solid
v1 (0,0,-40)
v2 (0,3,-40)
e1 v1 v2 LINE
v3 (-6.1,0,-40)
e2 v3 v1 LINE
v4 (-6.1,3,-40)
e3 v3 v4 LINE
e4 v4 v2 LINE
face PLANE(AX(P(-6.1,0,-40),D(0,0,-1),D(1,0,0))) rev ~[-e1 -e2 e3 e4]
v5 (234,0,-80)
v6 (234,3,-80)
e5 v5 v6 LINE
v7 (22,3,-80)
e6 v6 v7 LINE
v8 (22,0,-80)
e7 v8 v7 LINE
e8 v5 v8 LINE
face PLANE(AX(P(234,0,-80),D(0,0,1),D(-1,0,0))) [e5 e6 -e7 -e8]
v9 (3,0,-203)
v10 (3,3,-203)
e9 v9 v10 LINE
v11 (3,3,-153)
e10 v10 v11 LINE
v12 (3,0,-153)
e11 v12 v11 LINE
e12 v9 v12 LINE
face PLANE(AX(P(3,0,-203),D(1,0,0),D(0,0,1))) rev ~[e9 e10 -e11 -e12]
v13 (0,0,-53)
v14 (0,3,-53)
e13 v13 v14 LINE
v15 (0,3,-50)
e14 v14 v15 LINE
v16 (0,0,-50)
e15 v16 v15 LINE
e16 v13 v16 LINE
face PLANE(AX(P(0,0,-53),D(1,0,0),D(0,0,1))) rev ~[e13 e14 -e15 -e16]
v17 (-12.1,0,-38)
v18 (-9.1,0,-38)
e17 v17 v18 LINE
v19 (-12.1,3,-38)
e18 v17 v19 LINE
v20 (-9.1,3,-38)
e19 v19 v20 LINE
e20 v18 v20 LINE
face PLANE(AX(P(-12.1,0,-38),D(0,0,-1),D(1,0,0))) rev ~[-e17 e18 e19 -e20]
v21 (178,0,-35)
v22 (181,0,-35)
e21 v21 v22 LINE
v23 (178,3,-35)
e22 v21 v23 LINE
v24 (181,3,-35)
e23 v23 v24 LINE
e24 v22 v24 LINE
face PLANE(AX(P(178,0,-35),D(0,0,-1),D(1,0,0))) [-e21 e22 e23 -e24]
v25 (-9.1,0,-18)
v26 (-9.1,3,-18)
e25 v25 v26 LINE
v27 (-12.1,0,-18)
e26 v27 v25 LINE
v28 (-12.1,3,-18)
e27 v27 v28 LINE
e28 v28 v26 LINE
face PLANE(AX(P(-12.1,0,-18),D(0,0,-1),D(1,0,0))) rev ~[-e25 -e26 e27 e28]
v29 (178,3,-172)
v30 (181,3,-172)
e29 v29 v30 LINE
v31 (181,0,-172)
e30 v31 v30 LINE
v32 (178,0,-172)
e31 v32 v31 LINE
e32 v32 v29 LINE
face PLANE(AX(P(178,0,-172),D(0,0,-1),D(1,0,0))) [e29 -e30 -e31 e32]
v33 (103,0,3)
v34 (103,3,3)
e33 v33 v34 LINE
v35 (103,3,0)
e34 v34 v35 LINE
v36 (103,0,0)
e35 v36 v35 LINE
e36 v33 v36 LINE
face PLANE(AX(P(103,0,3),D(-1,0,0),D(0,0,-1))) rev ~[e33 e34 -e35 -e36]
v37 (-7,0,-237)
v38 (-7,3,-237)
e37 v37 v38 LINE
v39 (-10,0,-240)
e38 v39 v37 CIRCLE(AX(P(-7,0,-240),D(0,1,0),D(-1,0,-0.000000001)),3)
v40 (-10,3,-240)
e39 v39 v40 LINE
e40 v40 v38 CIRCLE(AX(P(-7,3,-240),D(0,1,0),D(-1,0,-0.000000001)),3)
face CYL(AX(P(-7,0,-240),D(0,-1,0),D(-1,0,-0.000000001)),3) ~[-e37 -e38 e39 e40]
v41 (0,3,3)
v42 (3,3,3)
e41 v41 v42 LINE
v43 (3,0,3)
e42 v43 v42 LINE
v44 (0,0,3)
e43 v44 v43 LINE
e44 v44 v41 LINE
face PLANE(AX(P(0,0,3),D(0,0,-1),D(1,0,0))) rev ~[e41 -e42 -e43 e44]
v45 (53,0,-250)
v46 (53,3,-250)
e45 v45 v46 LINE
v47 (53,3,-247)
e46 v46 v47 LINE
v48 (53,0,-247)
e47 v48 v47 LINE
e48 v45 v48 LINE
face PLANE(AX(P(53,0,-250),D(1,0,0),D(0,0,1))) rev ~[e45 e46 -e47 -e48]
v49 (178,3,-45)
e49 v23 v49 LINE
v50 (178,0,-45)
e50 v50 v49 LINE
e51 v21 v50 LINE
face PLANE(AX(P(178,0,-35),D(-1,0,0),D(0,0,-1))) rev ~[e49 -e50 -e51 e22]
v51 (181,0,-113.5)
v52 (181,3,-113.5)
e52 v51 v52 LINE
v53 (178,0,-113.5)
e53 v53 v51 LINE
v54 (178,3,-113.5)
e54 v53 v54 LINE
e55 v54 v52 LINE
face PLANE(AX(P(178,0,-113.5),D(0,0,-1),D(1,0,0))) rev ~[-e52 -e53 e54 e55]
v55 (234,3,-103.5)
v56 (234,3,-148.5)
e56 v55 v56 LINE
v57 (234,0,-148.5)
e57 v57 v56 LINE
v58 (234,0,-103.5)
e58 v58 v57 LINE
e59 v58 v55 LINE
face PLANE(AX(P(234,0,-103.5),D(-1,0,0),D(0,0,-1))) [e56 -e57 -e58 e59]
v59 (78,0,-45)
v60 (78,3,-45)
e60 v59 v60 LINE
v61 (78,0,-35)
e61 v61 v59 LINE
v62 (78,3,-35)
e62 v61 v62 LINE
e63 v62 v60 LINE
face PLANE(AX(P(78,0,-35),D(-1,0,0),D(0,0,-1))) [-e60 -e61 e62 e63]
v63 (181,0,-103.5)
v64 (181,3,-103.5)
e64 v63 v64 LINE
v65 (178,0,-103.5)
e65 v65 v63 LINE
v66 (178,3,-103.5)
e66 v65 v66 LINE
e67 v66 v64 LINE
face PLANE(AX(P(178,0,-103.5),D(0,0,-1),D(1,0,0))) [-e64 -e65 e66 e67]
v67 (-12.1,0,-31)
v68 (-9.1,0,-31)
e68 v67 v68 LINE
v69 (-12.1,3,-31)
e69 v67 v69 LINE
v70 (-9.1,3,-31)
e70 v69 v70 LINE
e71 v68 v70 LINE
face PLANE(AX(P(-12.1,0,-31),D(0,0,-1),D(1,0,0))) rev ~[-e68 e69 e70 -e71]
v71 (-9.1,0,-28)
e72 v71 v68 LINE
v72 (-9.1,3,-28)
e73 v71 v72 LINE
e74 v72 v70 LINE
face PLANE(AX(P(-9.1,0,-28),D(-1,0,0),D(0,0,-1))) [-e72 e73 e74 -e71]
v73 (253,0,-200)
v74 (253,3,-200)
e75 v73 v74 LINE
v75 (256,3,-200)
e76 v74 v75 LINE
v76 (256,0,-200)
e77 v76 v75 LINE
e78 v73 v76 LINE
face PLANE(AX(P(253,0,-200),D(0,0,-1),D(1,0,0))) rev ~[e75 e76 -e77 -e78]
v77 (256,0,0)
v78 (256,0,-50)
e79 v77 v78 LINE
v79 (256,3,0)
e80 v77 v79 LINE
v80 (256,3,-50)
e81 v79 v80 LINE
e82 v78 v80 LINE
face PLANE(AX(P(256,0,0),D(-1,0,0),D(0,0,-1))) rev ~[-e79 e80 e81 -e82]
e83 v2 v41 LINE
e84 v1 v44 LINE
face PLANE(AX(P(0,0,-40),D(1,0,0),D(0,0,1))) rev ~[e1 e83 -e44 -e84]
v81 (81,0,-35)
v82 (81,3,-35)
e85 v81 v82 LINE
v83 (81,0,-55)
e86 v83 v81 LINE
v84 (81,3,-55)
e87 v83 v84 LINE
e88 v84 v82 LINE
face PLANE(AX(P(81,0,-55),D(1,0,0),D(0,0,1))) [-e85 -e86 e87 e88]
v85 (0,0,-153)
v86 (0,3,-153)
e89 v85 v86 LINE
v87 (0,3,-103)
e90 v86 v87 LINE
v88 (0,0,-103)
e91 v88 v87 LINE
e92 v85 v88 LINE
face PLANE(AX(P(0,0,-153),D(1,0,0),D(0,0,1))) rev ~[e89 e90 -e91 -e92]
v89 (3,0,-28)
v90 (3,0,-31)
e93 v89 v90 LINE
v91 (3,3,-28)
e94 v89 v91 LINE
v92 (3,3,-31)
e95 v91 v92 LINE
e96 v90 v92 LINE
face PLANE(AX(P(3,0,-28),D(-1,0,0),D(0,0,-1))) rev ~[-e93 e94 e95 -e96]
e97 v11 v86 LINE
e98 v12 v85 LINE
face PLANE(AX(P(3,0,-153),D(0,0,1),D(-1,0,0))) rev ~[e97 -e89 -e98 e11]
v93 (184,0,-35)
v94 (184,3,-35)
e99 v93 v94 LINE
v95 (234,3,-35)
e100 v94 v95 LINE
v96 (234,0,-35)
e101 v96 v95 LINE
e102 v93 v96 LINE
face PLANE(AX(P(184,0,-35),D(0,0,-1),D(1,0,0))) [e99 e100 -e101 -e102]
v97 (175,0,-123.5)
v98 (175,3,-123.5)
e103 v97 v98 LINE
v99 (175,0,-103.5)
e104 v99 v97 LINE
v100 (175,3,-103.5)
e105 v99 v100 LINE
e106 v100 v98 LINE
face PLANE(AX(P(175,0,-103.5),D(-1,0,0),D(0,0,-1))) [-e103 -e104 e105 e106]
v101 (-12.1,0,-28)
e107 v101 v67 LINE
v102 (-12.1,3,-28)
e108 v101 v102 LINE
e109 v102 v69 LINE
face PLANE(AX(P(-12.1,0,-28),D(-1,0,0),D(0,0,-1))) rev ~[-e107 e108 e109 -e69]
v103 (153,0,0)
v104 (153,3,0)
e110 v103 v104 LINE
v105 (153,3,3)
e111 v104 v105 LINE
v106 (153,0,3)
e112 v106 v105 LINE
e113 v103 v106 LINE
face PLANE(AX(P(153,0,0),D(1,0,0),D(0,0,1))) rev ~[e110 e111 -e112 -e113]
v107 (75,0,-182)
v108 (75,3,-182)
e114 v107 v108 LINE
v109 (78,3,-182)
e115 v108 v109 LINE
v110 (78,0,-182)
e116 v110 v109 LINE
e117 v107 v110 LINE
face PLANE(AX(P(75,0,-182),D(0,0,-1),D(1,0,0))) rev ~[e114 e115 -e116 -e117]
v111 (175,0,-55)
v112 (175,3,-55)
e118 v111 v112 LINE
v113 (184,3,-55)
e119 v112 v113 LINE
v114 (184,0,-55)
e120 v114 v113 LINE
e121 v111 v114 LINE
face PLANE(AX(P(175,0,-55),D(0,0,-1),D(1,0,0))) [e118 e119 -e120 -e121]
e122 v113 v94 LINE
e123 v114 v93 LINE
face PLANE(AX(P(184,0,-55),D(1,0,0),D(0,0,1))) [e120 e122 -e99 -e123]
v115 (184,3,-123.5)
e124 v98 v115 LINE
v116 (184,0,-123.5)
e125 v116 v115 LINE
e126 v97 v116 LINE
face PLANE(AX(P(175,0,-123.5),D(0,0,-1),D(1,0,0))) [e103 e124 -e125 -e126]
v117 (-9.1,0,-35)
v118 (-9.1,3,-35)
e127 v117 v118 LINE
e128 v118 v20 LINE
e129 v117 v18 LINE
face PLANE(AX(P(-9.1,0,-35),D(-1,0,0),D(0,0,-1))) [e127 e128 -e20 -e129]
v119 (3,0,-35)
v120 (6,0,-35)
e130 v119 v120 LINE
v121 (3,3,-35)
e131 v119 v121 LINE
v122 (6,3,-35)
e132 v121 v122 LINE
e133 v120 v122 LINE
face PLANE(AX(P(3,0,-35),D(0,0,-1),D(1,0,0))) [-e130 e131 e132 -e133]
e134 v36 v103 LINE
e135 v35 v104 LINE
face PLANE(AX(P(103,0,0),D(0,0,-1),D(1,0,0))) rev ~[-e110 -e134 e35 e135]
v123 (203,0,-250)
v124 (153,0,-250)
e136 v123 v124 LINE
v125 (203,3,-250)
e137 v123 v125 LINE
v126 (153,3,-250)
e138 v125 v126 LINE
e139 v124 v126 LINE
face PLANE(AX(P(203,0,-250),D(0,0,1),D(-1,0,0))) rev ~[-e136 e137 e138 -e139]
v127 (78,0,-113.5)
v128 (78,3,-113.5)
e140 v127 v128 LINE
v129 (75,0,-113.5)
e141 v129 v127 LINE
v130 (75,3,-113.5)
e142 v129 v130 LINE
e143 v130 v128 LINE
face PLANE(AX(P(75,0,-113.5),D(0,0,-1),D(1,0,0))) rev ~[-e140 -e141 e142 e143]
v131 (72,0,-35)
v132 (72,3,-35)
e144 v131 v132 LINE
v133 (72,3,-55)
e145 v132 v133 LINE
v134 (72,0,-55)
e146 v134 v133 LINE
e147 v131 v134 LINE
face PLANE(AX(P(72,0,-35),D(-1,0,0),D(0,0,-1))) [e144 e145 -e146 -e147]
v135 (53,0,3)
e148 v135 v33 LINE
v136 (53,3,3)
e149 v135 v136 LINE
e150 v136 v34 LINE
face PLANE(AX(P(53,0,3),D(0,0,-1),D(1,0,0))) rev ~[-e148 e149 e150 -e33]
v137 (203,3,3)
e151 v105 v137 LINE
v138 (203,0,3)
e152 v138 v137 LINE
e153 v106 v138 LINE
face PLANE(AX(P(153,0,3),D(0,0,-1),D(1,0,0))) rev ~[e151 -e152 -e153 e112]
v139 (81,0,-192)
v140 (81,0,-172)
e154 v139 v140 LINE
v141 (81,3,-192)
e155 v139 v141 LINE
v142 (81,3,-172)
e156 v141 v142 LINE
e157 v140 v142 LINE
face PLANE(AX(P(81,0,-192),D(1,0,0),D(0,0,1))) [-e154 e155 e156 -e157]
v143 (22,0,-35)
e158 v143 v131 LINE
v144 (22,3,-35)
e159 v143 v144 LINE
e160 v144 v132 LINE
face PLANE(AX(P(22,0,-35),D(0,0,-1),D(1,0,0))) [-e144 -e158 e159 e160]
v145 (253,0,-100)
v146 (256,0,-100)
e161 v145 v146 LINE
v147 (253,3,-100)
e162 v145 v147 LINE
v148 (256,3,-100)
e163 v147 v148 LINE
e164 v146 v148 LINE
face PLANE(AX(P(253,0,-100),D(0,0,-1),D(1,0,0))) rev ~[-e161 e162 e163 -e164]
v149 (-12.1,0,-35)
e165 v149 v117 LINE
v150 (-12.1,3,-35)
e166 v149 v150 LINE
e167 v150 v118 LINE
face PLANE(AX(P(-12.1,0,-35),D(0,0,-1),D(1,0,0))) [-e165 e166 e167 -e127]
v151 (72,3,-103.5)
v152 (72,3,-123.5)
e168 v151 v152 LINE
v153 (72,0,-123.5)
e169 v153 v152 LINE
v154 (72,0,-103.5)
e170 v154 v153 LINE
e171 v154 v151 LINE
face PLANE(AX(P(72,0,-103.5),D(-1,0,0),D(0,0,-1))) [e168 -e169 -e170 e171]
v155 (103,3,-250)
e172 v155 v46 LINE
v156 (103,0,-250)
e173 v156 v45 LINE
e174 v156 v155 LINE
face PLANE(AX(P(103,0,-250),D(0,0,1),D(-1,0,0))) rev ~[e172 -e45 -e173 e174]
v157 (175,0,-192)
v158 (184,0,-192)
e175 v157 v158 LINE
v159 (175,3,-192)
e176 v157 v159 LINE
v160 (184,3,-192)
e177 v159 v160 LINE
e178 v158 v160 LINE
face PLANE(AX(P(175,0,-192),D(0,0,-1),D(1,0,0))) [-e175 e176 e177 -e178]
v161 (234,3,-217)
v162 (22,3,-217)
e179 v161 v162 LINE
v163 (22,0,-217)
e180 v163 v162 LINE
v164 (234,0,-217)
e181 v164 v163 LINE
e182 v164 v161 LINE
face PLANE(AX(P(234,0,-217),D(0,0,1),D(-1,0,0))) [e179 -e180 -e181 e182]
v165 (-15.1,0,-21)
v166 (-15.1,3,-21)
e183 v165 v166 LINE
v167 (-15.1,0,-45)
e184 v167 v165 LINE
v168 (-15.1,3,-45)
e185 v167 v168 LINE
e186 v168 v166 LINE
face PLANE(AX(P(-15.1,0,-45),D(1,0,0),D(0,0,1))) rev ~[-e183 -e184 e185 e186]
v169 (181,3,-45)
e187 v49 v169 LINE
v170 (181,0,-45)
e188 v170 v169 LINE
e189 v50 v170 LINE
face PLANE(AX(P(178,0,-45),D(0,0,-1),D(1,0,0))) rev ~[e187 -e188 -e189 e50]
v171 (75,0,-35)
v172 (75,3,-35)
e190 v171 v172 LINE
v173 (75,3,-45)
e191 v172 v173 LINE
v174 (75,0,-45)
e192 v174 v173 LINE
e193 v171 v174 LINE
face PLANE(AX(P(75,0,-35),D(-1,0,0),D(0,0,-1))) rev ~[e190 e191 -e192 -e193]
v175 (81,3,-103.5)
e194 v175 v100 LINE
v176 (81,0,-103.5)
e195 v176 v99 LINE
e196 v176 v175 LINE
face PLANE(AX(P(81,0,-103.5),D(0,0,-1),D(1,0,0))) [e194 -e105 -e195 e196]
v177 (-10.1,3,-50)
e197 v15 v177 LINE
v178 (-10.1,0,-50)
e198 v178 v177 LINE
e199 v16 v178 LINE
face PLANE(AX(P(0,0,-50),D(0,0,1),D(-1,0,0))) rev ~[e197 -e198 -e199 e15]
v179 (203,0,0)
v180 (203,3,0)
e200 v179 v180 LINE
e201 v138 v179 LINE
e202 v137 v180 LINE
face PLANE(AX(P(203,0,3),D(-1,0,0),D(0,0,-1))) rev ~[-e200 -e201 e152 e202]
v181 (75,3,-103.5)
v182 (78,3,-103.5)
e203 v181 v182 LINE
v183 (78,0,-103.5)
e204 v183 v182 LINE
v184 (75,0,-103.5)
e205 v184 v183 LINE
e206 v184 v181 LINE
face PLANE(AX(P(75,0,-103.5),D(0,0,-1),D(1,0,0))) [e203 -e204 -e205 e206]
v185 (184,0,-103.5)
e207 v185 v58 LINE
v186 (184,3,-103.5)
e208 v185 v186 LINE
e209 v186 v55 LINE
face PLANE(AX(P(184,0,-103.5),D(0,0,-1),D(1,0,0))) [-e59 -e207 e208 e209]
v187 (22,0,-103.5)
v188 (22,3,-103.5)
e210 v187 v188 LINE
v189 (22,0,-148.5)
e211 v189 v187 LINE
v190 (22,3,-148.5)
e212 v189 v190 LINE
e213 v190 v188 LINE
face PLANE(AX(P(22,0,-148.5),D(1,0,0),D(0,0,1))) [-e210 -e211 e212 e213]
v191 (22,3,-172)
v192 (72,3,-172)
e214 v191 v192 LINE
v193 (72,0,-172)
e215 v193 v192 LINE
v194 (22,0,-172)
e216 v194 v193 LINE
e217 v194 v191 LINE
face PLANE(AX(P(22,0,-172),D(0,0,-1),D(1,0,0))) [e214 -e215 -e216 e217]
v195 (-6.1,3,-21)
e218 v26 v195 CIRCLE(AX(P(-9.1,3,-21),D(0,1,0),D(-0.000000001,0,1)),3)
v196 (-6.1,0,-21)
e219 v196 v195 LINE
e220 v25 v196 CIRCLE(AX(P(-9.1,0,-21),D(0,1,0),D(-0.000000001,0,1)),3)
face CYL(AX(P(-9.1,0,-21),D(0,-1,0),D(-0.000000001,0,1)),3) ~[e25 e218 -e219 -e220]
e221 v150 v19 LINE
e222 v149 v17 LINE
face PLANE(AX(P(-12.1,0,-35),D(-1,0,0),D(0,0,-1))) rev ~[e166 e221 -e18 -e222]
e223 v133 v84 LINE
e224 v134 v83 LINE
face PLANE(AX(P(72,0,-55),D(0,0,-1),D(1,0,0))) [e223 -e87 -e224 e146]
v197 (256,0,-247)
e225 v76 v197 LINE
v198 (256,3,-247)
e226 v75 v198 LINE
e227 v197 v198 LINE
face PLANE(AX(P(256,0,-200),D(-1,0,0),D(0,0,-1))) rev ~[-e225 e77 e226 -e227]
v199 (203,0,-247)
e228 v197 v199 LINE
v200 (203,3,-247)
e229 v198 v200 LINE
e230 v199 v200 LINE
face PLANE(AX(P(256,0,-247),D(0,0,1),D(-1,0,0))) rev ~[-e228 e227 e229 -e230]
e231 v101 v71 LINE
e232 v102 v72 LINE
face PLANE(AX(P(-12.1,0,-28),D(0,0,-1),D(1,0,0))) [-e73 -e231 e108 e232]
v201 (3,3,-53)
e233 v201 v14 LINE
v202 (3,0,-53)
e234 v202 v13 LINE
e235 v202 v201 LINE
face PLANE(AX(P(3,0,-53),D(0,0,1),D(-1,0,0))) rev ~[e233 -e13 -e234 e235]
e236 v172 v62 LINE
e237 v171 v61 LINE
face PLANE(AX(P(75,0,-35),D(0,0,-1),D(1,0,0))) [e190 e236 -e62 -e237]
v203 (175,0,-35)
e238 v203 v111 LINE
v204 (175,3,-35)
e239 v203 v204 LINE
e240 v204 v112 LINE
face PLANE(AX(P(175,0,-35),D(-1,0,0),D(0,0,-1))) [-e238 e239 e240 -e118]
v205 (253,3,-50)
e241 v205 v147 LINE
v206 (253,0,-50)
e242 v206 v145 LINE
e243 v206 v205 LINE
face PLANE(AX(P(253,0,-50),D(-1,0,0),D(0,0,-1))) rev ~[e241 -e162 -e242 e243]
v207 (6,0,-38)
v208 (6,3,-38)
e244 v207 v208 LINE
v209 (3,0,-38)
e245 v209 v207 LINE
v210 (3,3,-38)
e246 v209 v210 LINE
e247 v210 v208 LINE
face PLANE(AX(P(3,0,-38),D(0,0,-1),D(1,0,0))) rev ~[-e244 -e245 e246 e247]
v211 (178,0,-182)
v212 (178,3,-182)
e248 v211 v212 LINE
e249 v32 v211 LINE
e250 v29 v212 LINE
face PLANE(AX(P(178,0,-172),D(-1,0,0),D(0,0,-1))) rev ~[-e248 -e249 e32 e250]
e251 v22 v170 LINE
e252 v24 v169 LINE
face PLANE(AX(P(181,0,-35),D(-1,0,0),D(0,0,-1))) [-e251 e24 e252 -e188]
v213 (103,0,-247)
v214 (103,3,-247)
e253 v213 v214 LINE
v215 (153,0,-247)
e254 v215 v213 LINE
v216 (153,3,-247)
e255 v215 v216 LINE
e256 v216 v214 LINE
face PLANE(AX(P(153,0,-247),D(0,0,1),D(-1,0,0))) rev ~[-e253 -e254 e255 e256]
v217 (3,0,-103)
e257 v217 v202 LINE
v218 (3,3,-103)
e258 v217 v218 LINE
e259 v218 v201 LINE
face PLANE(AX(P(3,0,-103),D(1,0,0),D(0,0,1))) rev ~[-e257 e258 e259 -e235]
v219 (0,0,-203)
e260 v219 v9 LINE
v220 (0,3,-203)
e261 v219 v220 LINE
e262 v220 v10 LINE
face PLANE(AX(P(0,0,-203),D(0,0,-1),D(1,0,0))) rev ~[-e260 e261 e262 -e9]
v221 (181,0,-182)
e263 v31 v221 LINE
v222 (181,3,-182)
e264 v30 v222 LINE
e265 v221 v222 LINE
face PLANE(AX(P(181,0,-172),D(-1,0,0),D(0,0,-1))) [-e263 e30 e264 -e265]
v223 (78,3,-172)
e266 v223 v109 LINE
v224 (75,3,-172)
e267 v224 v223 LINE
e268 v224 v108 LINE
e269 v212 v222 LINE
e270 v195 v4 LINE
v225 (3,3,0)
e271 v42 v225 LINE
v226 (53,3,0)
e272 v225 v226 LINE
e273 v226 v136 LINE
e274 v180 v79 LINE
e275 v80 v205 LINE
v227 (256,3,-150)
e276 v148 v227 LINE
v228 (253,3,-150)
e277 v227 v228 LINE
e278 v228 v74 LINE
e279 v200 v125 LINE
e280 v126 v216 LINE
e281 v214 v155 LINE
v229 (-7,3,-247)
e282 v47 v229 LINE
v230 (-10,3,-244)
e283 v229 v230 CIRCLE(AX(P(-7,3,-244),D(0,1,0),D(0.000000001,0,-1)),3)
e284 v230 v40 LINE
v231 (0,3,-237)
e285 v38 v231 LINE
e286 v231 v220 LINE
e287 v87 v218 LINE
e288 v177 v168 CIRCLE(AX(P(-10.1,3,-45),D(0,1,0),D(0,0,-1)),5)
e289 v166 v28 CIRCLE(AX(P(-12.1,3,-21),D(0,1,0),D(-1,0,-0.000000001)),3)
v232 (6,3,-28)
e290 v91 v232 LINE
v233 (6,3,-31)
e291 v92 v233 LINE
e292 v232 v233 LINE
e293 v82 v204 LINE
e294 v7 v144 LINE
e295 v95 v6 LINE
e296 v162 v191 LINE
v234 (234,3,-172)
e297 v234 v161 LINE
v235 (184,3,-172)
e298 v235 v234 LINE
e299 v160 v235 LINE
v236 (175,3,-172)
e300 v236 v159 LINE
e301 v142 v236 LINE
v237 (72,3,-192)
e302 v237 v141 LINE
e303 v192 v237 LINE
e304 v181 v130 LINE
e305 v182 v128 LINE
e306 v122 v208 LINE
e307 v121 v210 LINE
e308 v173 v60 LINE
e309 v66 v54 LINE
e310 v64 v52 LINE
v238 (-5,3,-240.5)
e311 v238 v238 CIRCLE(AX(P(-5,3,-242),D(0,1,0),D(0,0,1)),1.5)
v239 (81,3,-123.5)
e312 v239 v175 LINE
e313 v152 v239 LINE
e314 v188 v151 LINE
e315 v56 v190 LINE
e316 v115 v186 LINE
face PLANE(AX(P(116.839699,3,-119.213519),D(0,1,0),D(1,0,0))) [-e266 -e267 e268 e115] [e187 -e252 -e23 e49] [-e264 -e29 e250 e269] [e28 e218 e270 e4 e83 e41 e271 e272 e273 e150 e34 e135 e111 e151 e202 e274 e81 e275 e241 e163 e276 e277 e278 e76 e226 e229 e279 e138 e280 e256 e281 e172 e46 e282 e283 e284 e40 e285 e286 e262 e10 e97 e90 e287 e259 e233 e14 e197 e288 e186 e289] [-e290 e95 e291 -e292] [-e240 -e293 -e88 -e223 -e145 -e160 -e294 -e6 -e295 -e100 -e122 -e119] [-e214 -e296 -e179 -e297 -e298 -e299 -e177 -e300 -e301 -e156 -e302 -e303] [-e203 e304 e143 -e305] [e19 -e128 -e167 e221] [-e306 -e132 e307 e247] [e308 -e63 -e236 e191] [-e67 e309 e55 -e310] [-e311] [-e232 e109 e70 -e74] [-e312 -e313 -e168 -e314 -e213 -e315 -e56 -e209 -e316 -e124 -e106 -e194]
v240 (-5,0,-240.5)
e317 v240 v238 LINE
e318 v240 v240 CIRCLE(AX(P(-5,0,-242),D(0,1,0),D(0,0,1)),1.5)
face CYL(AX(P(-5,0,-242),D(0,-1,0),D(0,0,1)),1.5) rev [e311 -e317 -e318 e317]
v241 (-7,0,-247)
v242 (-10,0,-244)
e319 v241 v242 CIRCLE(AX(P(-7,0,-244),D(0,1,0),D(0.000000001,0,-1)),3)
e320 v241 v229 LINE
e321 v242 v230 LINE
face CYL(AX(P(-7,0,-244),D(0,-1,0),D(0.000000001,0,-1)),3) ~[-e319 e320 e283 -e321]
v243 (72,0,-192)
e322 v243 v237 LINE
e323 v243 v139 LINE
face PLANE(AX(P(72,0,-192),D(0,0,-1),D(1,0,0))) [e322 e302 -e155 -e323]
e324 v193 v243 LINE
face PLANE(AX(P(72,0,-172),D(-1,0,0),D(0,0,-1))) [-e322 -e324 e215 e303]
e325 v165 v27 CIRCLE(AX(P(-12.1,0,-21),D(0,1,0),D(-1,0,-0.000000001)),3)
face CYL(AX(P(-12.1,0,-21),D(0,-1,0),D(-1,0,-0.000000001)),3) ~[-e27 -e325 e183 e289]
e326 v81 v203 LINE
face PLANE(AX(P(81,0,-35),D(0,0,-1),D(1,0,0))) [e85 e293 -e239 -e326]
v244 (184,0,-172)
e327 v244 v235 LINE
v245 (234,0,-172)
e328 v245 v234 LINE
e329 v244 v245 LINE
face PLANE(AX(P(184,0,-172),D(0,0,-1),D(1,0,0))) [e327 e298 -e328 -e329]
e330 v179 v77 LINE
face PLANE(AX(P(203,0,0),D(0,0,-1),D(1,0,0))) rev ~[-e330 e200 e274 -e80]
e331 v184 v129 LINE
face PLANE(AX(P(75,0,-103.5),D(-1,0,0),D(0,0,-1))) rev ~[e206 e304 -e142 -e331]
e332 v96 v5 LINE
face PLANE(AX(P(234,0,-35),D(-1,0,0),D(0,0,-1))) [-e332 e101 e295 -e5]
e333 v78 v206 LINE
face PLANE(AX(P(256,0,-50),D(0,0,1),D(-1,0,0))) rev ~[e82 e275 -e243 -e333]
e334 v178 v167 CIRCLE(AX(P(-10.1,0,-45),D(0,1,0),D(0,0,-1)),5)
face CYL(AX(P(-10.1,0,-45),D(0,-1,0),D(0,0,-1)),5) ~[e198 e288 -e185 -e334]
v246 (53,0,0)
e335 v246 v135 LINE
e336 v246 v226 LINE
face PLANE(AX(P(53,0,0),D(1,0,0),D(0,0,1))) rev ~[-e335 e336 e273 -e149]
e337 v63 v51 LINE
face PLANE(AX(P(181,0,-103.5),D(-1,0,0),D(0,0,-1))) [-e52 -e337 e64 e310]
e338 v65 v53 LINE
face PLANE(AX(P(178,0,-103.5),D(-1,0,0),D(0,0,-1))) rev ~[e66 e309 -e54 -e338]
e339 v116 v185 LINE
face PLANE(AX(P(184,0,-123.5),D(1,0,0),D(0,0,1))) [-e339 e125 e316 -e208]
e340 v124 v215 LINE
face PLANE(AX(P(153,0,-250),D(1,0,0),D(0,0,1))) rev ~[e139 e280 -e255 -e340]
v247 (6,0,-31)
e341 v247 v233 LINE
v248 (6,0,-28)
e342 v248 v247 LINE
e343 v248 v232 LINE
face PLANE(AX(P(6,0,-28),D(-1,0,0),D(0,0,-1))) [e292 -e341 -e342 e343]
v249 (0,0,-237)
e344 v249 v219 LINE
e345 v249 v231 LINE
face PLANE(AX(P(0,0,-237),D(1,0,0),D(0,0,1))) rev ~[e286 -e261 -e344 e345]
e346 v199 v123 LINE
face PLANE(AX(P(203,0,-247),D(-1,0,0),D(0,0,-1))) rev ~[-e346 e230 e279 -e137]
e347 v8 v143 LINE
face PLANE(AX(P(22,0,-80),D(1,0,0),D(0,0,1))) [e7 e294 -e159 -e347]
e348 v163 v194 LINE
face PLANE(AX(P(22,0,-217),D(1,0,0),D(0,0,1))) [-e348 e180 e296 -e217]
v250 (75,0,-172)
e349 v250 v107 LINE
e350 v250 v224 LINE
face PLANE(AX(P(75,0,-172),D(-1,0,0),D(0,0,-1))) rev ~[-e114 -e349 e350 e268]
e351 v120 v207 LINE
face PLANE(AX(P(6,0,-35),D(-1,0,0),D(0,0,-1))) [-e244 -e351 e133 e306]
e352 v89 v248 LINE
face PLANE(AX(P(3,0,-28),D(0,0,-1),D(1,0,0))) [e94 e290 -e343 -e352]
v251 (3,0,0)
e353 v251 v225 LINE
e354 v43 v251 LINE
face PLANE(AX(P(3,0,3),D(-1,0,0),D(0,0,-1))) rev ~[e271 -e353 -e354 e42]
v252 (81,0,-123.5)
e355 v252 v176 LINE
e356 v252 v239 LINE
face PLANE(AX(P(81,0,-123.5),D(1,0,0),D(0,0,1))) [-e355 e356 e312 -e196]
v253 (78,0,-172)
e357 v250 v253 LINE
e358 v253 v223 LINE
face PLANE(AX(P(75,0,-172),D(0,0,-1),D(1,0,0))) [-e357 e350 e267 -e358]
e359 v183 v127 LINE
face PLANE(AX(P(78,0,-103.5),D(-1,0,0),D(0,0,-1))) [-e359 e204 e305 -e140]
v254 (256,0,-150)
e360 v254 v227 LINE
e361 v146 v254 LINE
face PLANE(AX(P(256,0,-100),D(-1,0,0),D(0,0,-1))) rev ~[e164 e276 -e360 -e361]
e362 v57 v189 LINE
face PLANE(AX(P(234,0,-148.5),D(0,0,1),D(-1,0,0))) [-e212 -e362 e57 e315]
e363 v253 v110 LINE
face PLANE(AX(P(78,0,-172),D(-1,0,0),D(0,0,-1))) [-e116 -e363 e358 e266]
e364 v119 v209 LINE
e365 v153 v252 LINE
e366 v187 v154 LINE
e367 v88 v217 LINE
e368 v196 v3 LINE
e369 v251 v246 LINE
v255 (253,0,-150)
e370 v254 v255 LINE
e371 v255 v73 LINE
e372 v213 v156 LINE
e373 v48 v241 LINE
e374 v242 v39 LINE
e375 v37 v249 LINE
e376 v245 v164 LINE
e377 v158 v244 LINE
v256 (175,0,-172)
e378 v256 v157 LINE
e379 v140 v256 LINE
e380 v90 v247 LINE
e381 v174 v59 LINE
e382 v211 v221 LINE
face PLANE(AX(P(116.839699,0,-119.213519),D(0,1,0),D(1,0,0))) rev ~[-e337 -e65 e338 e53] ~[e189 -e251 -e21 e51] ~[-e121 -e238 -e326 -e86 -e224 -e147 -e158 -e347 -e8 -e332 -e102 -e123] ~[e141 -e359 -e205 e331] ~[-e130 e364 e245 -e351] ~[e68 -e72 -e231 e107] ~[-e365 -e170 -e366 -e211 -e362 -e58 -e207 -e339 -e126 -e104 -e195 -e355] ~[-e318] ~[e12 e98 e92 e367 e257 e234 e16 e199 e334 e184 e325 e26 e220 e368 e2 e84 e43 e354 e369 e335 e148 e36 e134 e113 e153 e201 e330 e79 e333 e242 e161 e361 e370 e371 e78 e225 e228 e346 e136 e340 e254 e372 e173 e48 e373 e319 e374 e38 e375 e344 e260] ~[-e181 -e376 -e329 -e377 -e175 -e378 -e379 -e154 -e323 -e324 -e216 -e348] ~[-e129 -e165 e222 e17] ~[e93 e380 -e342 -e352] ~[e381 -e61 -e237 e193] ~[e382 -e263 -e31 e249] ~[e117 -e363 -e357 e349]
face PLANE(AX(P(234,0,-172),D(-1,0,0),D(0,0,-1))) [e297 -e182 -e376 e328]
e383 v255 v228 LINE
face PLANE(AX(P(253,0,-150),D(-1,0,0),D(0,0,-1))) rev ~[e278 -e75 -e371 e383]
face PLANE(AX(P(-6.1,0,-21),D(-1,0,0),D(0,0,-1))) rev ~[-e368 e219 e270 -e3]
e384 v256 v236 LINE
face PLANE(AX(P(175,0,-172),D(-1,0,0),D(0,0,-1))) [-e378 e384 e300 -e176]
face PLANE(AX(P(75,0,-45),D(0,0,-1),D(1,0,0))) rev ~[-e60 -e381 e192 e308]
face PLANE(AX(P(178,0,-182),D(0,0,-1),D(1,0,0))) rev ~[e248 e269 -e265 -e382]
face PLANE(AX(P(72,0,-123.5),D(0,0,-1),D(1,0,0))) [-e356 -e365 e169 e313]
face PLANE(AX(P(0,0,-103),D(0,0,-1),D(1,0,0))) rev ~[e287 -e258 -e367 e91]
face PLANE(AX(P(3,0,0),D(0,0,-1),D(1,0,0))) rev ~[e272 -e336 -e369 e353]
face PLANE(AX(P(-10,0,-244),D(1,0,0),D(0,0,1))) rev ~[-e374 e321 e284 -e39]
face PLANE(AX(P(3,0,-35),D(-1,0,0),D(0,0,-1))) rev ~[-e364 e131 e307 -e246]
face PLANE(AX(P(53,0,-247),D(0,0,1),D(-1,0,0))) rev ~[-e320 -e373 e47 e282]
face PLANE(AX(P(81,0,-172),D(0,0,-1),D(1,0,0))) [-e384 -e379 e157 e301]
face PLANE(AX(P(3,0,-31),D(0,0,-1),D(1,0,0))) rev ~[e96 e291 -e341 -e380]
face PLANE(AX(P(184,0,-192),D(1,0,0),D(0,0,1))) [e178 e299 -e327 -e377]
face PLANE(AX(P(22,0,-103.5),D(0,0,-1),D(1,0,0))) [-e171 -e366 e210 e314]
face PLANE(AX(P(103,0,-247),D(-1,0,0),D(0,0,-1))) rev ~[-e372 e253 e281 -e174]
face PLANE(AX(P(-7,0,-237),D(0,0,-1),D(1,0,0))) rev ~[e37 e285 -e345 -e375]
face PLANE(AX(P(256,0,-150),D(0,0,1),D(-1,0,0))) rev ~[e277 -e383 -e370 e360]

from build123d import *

# Parameters (mm, degrees)
SKETCH1_R           = 1.5
SKETCH1_W           = 3
SKETCH1_H           = 3
SKETCH1_H_2         = 10
BOSS_EXTRUDE1_DEPTH = 3


with BuildPart() as part:
    # Sketch1 → Boss-Extrude1 (new body)
    with BuildSketch(Plane(origin=(0, 0, 0), x_dir=(1, 0, 0), z_dir=(0, 1, 0))):
        with BuildLine():
            Line((256, 100), (256, 150))
            Line((256, 150), (253, 150))
            Line((253, 150), (253, 200))
            Line((253, 200), (256, 200))
            Line((256, 200), (256, 247))
            Line((256, 247), (203, 247))
            Line((203, 247), (203, 250))
            Line((203, 250), (153, 250))
            Line((153, 250), (153, 247))
            Line((153, 247), (103, 247))
            Line((103, 247), (103, 250))
            Line((103, 250), (53, 250))
            Line((53, 250), (53, 247))
            Line((53, 247), (-7, 247))
            ThreePointArc((-7, 247), (-9.121320344, 246.121320344), (-10, 244))
            Line((-10, 244), (-10, 240))
            ThreePointArc((-10, 240), (-9.121320344, 237.878679656), (-7, 237))
            Line((-7, 237), (0, 237))
            Line((0, 237), (0, 203))
            Line((0, 203), (3, 203))
            Line((3, 203), (3, 153))
            Line((3, 153), (0, 153))
            Line((0, 153), (0, 103))
            Line((0, 103), (3, 103))
            Line((3, 103), (3, 53))
            Line((3, 53), (0, 53))
            Line((0, 53), (0, 50))
            Line((0, 50), (-10.1, 50))
            ThreePointArc((-10.1, 50), (-13.635533906, 48.535533906), (-15.1, 45))
            Line((-15.1, 45), (-15.1, 43))
            Line((-15.1, 43), (-15.1, 21))
            ThreePointArc((-15.1, 21), (-14.221320344, 18.878679656), (-12.1, 18))
            Line((-12.1, 18), (-9.1, 18))
            ThreePointArc((-9.1, 18), (-6.978679656, 18.878679656), (-6.1, 21))
            Line((-6.1, 21), (-6.1, 40))
            Line((-6.1, 40), (0, 40))
            Line((0, 40), (0, 0))
            Line((0, 0), (0, -3))
            Line((0, -3), (3, -3))
            Line((3, -3), (3, 0))
            Line((3, 0), (53, 0))
            Line((53, 0), (53, -3))
            Line((53, -3), (103, -3))
            Line((103, -3), (103, 0))
            Line((103, 0), (153, 0))
            Line((153, 0), (153, -3))
            Line((153, -3), (203, -3))
            Line((203, -3), (203, 0))
            Line((203, 0), (256, 0))
            Line((256, 0), (256, 50))
            Line((256, 50), (253, 50))
            Line((253, 50), (253, 100))
            Line((253, 100), (256, 100))
        make_face()
        with Locations(Location((-5, 242, 0), (0, 0, 270))):
            Circle(SKETCH1_R, mode=Mode.SUBTRACT)
        with Locations((-10.6, 29.5)):
            Rectangle(SKETCH1_W, SKETCH1_H, mode=Mode.SUBTRACT)
        Polygon((184, 172), (234, 172), (234, 217), (22, 217), (22, 172), (72, 172), (72, 192), (81, 192), (81, 172), (175, 172), (175, 192), (184, 192), align=None, mode=Mode.SUBTRACT)
        with Locations((-10.6, 36.5)):
            Rectangle(SKETCH1_W, SKETCH1_H, mode=Mode.SUBTRACT)
        with Locations((4.5, 29.5)):
            Rectangle(SKETCH1_W, SKETCH1_H, mode=Mode.SUBTRACT)
        with Locations((4.5, 36.5)):
            Rectangle(SKETCH1_W, SKETCH1_H, mode=Mode.SUBTRACT)
        with Locations((76.5, 40)):
            Rectangle(SKETCH1_W, SKETCH1_H_2, mode=Mode.SUBTRACT)
        with Locations((179.5, 40)):
            Rectangle(SKETCH1_W, SKETCH1_H_2, mode=Mode.SUBTRACT)
        with Locations((76.5, 108.5)):
            Rectangle(SKETCH1_W, SKETCH1_H_2, mode=Mode.SUBTRACT)
        with Locations((179.5, 108.5)):
            Rectangle(SKETCH1_W, SKETCH1_H_2, mode=Mode.SUBTRACT)
        with Locations((76.5, 177)):
            Rectangle(SKETCH1_W, SKETCH1_H_2, mode=Mode.SUBTRACT)
        with Locations((179.5, 177)):
            Rectangle(SKETCH1_W, SKETCH1_H_2, mode=Mode.SUBTRACT)
        Polygon((22, 35), (72, 35), (72, 55), (81, 55), (81, 35), (175, 35), (175, 55), (184, 55), (184, 35), (234, 35), (234, 80), (22, 80), align=None, mode=Mode.SUBTRACT)
        Polygon((22, 103.5), (72, 103.5), (72, 123.5), (81, 123.5), (81, 103.5), (175, 103.5), (175, 123.5), (184, 123.5), (184, 103.5), (234, 103.5), (234, 148.5), (22, 148.5), align=None, mode=Mode.SUBTRACT)
    extrude(amount=BOSS_EXTRUDE1_DEPTH)


solid = part.part
